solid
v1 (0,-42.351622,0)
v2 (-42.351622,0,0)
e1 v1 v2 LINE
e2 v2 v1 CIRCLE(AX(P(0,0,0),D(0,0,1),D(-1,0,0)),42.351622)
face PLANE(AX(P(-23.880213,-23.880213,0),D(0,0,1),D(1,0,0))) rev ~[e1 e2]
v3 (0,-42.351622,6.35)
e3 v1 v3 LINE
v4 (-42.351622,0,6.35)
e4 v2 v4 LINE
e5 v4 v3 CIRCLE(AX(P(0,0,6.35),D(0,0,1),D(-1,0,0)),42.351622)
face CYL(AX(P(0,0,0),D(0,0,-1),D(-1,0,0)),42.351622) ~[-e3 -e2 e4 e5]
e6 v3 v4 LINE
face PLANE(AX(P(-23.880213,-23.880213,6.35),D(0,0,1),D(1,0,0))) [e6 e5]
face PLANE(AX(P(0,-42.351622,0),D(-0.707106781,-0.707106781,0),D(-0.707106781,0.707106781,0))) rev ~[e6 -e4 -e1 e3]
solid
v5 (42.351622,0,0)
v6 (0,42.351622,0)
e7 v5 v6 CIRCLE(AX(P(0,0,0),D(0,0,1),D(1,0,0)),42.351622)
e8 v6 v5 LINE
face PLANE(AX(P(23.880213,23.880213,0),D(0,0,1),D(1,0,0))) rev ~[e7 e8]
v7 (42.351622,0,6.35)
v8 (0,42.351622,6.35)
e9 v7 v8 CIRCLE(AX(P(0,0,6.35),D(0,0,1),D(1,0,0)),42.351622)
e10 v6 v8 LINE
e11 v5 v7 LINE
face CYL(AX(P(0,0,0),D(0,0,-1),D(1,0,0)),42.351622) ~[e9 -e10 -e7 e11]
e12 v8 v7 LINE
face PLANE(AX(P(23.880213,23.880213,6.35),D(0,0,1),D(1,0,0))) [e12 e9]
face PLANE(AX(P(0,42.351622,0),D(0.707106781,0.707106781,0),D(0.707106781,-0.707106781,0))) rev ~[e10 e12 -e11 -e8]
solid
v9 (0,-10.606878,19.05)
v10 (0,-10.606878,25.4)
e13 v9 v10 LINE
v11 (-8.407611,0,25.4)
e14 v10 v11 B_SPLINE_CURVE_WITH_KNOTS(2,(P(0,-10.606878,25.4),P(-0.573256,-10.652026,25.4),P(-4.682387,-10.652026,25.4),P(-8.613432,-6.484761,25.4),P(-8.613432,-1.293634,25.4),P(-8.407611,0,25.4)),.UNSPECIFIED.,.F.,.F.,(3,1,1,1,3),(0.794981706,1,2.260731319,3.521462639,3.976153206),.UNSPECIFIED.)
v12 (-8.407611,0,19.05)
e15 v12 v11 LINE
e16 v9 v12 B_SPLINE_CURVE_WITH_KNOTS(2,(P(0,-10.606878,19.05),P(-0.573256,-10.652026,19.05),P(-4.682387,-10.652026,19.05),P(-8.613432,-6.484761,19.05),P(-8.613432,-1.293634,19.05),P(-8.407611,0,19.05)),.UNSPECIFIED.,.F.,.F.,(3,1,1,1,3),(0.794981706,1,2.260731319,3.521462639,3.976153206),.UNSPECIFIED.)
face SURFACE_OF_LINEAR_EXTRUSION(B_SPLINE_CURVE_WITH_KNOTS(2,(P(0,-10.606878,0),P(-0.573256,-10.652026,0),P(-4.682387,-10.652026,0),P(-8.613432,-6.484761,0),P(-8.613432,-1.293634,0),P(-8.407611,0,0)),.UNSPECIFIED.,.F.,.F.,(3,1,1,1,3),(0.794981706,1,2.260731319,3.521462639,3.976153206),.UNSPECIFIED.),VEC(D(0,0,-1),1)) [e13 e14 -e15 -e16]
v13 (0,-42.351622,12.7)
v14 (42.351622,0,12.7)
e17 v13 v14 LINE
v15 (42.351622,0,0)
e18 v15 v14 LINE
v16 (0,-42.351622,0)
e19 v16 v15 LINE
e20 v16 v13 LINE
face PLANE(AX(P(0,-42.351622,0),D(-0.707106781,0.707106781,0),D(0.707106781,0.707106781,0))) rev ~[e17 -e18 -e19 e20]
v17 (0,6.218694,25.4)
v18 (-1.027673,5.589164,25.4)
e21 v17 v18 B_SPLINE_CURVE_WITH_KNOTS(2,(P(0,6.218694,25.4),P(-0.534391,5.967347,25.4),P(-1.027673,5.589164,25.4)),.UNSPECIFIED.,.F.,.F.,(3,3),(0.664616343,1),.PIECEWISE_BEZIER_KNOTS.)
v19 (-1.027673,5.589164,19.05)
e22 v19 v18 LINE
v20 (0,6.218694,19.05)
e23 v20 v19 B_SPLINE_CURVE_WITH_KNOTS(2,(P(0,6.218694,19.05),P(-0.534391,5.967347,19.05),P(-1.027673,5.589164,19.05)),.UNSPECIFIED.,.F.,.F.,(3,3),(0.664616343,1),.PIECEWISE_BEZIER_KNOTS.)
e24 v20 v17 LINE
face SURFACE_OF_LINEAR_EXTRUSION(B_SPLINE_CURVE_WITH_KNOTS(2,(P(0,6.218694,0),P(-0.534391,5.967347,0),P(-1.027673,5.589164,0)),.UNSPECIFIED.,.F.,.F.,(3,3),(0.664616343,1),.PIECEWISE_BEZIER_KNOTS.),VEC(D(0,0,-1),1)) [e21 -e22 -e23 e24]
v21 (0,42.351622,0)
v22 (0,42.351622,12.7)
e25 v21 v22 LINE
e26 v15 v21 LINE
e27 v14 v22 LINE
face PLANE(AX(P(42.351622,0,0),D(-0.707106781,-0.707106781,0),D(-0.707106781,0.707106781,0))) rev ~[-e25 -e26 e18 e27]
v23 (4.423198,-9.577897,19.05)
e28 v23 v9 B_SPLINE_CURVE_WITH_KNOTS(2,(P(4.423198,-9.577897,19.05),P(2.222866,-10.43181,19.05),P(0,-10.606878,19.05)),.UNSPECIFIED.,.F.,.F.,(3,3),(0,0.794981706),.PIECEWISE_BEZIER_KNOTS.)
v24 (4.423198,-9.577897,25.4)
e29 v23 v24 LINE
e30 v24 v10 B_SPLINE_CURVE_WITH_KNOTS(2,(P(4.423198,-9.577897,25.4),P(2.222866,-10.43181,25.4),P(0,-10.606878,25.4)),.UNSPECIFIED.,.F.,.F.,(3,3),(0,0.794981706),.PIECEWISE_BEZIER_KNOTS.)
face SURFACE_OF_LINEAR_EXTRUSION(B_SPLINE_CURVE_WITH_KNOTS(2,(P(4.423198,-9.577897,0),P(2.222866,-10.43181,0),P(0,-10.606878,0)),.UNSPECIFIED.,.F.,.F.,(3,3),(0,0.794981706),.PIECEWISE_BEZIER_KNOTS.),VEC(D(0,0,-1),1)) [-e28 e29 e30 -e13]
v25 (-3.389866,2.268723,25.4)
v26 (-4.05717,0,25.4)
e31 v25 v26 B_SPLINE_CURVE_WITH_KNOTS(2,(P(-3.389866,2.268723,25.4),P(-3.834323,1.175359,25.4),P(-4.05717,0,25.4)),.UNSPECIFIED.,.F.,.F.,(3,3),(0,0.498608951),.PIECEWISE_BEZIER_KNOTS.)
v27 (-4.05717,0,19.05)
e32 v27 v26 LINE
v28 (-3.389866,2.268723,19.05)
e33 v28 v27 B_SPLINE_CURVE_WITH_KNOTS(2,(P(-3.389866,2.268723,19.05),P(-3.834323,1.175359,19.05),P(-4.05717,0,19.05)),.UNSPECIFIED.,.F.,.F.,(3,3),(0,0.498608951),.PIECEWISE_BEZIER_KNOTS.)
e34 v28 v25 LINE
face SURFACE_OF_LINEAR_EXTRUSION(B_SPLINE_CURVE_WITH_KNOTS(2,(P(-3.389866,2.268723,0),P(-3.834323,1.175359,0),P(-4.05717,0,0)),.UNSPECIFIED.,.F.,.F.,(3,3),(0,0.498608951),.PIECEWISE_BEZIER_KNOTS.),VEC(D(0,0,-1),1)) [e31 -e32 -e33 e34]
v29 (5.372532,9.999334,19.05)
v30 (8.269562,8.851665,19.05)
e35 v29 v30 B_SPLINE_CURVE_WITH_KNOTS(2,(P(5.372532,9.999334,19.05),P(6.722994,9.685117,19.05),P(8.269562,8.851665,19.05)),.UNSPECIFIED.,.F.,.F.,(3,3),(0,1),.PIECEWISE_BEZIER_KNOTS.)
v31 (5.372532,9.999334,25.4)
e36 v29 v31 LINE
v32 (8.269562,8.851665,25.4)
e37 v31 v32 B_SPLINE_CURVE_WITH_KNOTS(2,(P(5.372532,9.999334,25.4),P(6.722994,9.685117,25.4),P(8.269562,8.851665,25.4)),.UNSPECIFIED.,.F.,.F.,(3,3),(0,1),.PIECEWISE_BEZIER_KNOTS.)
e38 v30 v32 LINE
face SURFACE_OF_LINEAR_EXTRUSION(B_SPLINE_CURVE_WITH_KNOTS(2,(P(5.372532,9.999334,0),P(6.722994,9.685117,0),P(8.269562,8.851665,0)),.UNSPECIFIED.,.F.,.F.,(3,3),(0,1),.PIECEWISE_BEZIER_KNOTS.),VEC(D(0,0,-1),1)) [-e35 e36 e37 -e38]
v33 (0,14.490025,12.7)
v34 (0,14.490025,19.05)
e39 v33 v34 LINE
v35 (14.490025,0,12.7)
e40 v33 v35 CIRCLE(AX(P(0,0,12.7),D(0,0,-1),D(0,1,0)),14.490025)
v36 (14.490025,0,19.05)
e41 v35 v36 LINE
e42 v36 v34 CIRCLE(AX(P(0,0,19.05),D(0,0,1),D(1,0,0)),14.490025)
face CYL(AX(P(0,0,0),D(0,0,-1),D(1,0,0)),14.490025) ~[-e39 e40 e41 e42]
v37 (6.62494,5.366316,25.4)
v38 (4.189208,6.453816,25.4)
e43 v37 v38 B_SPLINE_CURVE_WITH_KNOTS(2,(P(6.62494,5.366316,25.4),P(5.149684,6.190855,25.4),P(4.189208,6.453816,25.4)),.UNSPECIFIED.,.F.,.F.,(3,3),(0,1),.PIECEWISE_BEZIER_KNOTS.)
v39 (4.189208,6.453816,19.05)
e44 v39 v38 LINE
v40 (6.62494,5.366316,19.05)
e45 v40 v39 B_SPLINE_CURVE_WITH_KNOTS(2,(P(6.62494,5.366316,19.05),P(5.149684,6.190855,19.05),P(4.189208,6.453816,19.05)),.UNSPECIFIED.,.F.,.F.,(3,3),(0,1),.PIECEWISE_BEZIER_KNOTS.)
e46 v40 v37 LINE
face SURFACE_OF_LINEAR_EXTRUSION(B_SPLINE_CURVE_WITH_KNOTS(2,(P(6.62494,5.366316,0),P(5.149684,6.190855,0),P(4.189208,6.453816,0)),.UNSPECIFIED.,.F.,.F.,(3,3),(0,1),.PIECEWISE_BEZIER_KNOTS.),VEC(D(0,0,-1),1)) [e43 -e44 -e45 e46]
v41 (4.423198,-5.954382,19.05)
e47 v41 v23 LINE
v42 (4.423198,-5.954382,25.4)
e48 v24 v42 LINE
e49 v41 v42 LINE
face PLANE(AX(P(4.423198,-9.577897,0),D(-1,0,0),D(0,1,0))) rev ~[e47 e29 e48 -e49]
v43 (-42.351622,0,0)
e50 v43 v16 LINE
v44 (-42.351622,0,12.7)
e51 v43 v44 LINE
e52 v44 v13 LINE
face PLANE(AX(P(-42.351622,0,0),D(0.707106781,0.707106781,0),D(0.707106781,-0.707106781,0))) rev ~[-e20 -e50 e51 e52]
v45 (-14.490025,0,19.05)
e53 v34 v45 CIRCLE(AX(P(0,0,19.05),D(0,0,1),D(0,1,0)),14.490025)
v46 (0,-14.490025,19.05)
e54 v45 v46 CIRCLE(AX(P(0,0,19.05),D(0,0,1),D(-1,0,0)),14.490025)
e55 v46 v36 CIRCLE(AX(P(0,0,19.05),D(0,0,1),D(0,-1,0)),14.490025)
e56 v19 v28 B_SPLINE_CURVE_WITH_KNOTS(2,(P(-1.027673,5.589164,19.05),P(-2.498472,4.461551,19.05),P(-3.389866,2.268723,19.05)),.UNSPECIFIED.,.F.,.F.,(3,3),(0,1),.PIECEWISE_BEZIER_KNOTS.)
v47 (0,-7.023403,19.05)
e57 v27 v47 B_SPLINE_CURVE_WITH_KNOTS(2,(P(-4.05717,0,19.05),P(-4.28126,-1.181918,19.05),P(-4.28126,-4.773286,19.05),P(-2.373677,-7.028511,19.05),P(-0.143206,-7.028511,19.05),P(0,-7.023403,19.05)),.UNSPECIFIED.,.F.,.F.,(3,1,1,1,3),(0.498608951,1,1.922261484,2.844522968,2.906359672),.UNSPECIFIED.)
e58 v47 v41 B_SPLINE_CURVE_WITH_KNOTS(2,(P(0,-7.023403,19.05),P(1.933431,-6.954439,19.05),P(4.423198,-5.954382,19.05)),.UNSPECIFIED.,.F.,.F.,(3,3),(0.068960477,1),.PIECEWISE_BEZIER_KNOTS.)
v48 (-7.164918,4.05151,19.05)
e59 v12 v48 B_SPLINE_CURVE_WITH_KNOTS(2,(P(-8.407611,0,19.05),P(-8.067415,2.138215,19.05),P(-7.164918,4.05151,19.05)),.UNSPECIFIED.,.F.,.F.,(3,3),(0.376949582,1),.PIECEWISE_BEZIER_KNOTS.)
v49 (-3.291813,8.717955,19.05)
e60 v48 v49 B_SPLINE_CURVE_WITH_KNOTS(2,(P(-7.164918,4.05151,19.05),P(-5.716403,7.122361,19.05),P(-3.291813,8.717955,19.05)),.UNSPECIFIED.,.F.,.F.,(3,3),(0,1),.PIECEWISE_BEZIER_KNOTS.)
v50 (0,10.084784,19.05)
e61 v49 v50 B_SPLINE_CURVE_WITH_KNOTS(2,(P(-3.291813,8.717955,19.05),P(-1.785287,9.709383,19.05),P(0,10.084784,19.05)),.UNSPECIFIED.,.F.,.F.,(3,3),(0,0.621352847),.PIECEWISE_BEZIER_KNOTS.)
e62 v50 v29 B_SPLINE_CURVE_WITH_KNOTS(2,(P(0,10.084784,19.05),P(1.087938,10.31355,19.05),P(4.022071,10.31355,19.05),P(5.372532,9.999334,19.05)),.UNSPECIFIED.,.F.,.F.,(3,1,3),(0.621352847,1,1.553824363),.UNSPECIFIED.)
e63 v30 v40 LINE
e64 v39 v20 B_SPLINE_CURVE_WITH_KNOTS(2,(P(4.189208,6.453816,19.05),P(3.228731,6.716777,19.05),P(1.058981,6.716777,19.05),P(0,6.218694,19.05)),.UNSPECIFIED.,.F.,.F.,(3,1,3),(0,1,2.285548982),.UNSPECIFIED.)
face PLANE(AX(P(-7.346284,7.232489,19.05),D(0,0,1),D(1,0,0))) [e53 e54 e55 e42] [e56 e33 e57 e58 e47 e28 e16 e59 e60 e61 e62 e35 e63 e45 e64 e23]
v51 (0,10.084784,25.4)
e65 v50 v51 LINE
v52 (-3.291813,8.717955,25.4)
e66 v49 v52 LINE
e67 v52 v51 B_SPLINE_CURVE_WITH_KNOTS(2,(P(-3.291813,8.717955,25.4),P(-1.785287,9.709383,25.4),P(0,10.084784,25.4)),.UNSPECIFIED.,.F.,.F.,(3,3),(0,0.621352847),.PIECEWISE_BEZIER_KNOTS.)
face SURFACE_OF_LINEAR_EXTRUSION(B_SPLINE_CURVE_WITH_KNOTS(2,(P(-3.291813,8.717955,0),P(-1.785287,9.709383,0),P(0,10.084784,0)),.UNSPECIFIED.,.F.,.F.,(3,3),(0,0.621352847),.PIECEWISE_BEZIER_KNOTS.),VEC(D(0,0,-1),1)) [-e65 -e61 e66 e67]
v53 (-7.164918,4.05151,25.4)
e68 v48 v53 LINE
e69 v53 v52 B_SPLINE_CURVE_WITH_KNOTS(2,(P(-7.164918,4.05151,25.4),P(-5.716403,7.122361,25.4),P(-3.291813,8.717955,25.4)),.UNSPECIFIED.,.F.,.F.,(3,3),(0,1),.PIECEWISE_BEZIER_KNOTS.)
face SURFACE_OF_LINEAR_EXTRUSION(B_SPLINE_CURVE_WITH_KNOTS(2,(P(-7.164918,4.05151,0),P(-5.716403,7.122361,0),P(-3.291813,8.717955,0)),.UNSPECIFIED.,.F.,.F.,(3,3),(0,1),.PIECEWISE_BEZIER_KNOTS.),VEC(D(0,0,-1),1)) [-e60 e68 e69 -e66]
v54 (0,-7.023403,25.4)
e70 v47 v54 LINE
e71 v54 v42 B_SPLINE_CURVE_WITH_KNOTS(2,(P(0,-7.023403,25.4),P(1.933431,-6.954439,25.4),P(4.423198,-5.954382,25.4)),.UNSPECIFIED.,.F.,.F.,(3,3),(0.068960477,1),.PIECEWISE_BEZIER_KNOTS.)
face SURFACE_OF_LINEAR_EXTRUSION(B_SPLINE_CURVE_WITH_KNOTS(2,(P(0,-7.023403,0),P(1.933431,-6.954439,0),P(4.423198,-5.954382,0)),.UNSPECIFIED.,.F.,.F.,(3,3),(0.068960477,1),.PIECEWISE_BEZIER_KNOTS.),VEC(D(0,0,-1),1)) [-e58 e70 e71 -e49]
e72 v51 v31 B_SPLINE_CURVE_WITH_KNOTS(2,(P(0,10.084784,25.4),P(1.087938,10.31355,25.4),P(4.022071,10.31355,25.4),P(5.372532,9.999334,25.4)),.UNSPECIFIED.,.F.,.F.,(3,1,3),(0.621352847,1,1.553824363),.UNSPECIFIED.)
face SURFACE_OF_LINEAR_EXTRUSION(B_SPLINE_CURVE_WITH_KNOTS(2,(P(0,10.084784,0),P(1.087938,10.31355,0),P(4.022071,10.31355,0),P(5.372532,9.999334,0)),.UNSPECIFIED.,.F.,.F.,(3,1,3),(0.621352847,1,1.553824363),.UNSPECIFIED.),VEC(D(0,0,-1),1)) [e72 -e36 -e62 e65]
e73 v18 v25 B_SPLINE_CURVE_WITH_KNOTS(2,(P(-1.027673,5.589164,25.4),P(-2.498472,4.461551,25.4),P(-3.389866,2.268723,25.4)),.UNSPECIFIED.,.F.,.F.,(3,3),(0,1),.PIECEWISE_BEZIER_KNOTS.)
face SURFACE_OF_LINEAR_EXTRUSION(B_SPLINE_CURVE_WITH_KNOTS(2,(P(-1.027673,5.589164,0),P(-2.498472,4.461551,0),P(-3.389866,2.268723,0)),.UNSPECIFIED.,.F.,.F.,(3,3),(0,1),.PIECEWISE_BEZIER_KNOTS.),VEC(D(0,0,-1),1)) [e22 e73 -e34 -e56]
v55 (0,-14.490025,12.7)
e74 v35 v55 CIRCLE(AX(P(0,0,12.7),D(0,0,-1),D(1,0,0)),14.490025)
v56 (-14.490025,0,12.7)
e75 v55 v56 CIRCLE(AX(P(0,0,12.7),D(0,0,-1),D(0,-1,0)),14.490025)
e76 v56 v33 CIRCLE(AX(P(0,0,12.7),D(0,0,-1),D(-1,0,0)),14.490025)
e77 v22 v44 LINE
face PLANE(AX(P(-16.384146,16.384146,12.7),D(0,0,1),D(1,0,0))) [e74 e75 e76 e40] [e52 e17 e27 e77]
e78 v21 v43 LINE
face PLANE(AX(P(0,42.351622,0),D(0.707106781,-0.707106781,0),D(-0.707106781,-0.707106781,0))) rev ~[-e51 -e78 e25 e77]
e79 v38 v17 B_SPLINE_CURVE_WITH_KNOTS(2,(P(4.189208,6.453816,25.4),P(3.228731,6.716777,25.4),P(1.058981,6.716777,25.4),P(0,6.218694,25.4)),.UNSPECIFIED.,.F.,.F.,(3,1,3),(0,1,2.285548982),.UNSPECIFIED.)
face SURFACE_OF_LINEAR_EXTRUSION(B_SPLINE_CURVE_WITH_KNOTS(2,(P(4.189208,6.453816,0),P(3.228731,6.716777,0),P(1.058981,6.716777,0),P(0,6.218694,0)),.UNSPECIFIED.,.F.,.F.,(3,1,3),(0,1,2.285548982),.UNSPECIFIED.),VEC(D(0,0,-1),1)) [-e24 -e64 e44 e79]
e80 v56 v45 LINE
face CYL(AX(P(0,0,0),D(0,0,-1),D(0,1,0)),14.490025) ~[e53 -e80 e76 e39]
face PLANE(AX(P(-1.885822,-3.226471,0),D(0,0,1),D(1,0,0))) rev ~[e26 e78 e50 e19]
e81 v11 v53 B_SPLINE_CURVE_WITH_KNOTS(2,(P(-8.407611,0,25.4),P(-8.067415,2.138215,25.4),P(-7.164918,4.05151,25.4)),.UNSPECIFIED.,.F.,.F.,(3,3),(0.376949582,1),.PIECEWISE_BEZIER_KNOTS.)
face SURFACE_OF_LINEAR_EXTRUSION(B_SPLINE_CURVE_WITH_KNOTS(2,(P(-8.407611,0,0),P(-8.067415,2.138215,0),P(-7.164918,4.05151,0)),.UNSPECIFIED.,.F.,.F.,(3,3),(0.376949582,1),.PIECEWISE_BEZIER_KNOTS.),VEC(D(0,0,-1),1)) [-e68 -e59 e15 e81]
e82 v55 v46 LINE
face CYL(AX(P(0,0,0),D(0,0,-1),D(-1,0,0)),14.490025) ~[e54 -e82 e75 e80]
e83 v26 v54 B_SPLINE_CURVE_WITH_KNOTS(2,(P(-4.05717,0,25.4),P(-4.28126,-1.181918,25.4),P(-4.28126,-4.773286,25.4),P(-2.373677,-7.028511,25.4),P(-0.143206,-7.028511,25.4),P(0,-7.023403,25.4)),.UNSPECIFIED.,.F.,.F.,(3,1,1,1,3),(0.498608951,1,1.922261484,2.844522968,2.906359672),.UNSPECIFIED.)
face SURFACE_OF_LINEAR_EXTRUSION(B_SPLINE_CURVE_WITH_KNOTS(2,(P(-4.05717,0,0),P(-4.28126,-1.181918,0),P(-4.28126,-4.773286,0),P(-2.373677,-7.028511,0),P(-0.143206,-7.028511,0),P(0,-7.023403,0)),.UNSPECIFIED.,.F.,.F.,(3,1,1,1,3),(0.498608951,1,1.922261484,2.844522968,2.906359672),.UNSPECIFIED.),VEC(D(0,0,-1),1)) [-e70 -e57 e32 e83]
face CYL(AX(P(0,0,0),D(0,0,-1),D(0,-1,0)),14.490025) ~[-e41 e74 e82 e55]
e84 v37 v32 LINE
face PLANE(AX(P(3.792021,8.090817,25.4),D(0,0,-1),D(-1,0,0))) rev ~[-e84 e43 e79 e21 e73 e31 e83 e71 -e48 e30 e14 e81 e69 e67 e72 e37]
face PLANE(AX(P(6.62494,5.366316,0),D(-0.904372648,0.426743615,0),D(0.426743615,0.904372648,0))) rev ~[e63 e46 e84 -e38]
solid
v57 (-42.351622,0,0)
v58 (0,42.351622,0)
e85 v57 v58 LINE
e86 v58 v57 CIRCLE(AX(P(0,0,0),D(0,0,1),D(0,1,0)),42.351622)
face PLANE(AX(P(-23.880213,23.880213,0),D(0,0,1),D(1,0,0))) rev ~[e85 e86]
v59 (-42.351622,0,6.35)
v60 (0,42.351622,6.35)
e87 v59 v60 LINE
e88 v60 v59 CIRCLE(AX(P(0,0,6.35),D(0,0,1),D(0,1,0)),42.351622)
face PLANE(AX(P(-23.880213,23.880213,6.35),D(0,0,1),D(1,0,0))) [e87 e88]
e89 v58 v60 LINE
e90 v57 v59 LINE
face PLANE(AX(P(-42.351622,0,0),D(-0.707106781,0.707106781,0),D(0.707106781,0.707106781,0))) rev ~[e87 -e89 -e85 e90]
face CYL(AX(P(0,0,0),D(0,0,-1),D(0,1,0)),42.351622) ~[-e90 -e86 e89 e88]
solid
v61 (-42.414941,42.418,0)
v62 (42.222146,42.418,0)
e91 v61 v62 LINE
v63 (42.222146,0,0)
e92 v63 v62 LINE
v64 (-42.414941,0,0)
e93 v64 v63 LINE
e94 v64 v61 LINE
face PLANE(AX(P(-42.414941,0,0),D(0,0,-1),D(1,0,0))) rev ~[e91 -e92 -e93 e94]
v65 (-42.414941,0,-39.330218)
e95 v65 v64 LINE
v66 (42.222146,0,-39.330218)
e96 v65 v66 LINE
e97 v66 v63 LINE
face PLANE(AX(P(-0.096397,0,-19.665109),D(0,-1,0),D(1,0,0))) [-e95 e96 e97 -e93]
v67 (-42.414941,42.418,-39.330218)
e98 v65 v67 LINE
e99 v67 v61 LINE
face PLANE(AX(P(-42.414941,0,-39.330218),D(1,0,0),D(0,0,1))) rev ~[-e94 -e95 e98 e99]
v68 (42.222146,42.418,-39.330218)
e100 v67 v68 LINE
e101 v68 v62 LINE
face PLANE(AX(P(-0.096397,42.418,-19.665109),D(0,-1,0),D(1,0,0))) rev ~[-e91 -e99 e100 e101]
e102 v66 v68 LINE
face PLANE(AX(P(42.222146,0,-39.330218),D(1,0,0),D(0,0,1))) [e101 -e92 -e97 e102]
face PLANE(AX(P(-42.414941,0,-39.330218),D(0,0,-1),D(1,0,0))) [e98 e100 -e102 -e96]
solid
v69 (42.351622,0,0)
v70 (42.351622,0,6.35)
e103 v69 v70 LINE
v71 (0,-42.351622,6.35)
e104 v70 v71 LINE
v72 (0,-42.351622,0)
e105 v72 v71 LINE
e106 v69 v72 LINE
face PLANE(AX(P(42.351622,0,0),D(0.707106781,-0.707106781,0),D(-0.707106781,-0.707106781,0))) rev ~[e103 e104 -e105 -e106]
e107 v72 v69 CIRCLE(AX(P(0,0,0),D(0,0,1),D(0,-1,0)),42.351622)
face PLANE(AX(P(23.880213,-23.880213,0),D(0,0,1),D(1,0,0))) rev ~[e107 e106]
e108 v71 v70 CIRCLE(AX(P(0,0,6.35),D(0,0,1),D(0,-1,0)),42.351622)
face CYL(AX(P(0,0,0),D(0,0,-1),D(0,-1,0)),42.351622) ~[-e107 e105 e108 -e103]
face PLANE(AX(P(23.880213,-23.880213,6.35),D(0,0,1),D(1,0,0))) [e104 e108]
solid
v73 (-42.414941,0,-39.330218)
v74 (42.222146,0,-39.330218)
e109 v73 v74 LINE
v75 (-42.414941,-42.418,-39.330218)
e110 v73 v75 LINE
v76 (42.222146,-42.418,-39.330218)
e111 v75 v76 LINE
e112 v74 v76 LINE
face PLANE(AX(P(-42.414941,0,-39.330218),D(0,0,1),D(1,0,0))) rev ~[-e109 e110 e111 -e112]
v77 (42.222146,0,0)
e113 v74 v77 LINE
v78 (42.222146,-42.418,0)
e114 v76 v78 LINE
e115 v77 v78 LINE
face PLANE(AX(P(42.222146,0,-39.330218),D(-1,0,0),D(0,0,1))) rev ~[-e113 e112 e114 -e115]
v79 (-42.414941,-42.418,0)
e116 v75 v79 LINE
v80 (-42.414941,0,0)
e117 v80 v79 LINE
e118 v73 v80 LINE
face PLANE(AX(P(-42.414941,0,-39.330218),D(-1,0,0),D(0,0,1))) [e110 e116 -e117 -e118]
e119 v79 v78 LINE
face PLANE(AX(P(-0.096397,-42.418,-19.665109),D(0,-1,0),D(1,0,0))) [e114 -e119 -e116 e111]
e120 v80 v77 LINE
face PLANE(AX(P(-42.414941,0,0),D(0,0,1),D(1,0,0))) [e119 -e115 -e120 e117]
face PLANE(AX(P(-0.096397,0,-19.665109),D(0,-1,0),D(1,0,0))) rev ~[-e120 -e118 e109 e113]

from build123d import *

# Parameters (mm, degrees)
F1_DEPTH = 6.35
F2_DEPTH = 12.7
F3_DEPTH = 19.05
F4_DEPTH = 25.4
F5_DEPTH = 19.05
F6_W     = 84.6370868385
F6_H     = 39.3302179873
F7_DEPTH = 42.418
F8_DEPTH = 42.418


with BuildPart() as f1:
    # F0 (on Top) → F1 (new body)
    with BuildSketch(Plane.XY):
        with BuildLine():
            Line((-42.3516215858, 0), (0, 42.3516215858))
            ThreePointArc((0, 42.3516215858), (-29.9471188176, 29.9471188176), (-42.3516215858, 0))
        make_face()
    extrude(amount=F1_DEPTH)


with BuildPart() as f1b:
    # F0 (on Top) → F1, piece 2 (new body)
    with BuildSketch(Plane.XY):
        with BuildLine():
            Line((0, 42.3516215858), (42.3516215858, 0))
            ThreePointArc((42.3516215858, 0), (29.9471188176, 29.9471188176), (0, 42.3516215858))
        make_face()
    extrude(amount=F1_DEPTH)


with BuildPart() as f1c:
    # F0 (on Top) → F1, piece 3 (new body)
    with BuildSketch(Plane.XY):
        with BuildLine():
            ThreePointArc((0, -42.3516215858), (29.9471188176, -29.9471188176), (42.3516215858, 0))
            Line((42.3516215858, 0), (0, -42.3516215858))
        make_face()
    extrude(amount=F1_DEPTH)


with BuildPart() as f1d:
    # F0 (on Top) → F1, piece 4 (new body)
    with BuildSketch(Plane.XY):
        with BuildLine():
            ThreePointArc((-42.3516215858, 0), (-29.9471188176, -29.9471188176), (0, -42.3516215858))
            Line((0, -42.3516215858), (-42.3516215858, 0))
        make_face()
    extrude(amount=F1_DEPTH)


with BuildPart() as f2:
    # F0 (on Top) → F2 (new body)
    with BuildSketch(Plane.XY):
        with BuildLine():
            Line((0, 14.4900253138), (0, 42.3516215858))
            Line((0, 42.3516215858), (-42.3516215858, 0))
            Line((-42.3516215858, 0), (-14.4900253138, 0))
            ThreePointArc((-14.4900253138, 0), (-10.2459951589, 10.2459951589), (0, 14.4900253138))
        make_face()
        with BuildLine():
            Line((14.4900253138, 0), (42.3516215858, 0))
            Line((42.3516215858, 0), (0, 42.3516215858))
            Line((0, 42.3516215858), (0, 14.4900253138))
            ThreePointArc((0, 14.4900253138), (10.2459951589, 10.2459951589), (14.4900253138, 0))
        make_face()
        with BuildLine():
            Line((0, -42.3516215858), (42.3516215858, 0))
            Line((42.3516215858, 0), (14.4900253138, 0))
            ThreePointArc((14.4900253138, 0), (10.2459951589, -10.2459951589), (0, -14.4900253138))
            Line((0, -14.4900253138), (0, -42.3516215858))
        make_face()
        with BuildLine():
            Line((-42.3516215858, 0), (0, -42.3516215858))
            Line((0, -42.3516215858), (0, -14.4900253138))
            ThreePointArc((0, -14.4900253138), (-10.2459951589, -10.2459951589), (-14.4900253138, 0))
            Line((-14.4900253138, 0), (-42.3516215858, 0))
        make_face()
    extrude(amount=F2_DEPTH)

    # F0 (on Top) → F3 (join)
    with BuildSketch(Plane.XY):
        with BuildLine():
            Line((0, 10.0847837123), (0, 14.4900253138))
            ThreePointArc((0, 14.4900253138), (-10.2459951589, 10.2459951589), (-14.4900253138, 0))
            Line((-14.4900253138, 0), (-8.4076113491, 0))
            add(Edge.make_bspline(
                [(-8.4076113491, 0), (-8.0674152675, 2.1382154446), (-7.1649176971, 4.0515102938)],
                knots=[0.3769495817, 0.3769495817, 0.3769495817, 1, 1, 1], degree=2))
            add(Edge.make_bspline(
                [(-7.1649176971, 4.0515102938), (-5.7164031887, 7.1223610516), (-3.29181275, 8.7179554947)],
                knots=[0, 0, 0, 1, 1, 1], degree=2))
            add(Edge.make_bspline(
                [(-3.29181275, 8.7179554947), (-1.785286578, 9.7093826447), (0, 10.0847837123)],
                knots=[0, 0, 0, 0.6213528471, 0.6213528471, 0.6213528471], degree=2))
        make_face()
        with BuildLine():
            Line((0, 0), (14.4900253138, 0))
            ThreePointArc((14.4900253138, 0), (10.2459951589, 10.2459951589), (0, 14.4900253138))
            Line((0, 14.4900253138), (0, 10.0847837123))
            add(Edge.make_bspline(
                [(0, 10.0847837123), (1.0879384928, 10.3135499378), (2.2793968976, 10.3135499378)],
                knots=[0.6213528471, 0.6213528471, 0.6213528471, 1, 1, 1], degree=2))
            add(Edge.make_bspline(
                [(2.2793968976, 10.3135499378), (4.0220712755, 10.3135499378), (5.3725324941, 9.9993337136)],
                knots=[0, 0, 0, 1, 1, 1], degree=2))
            add(Edge.make_bspline(
                [(5.3725324941, 9.9993337136), (6.7229937127, 9.6851174895), (8.2695615109, 8.8516645262)],
                knots=[0, 0, 0, 1, 1, 1], degree=2))
            Line((8.2695615109, 8.8516645262), (6.6249404229, 5.3663157706))
            add(Edge.make_bspline(
                [(6.6249404229, 5.3663157706), (5.1496841081, 6.1908547985), (4.1892075649, 6.4538158939)],
                knots=[0, 0, 0, 1, 1, 1], degree=2))
            add(Edge.make_bspline(
                [(4.1892075649, 6.4538158939), (3.2287310216, 6.7167769892), (2.2793968976, 6.7167769892)],
                knots=[0, 0, 0, 1, 1, 1], degree=2))
            add(Edge.make_bspline(
                [(2.2793968976, 6.7167769892), (1.0589813809, 6.7167769892), (0, 6.2186936188)],
                knots=[0, 0, 0, 0.6646163427, 0.6646163427, 0.6646163427], degree=2))
            Line((0, 6.2186936188), (0, 0))
        make_face()
        with BuildLine():
            ThreePointArc((0, -14.4900253138), (10.2459951589, -10.2459951589), (14.4900253138, 0))
            Line((14.4900253138, 0), (0, 0))
            Line((0, 0), (0, -7.0234033811))
            add(Edge.make_bspline(
                [(0, -7.0234033811), (1.9334305116, -6.95443899), (4.4231983701, -5.9543822335)],
                knots=[0.0689604772, 0.0689604772, 0.0689604772, 1, 1, 1], degree=2))
            Line((4.4231983701, -5.9543822335), (4.4231983701, -9.5778969884))
            add(Edge.make_bspline(
                [(4.4231983701, -9.5778969884), (2.2228663266, -10.4318100681), (0, -10.606877871)],
                knots=[0, 0, 0, 0.7949817059, 0.7949817059, 0.7949817059], degree=2))
            Line((0, -10.606877871), (0, -14.4900253138))
        make_face()
        with BuildLine():
            ThreePointArc((-14.4900253138, 0), (-10.2459951589, -10.2459951589), (0, -14.4900253138))
            Line((0, -14.4900253138), (0, -10.606877871))
            add(Edge.make_bspline(
                [(0, -10.606877871), (-0.5732562888, -10.6520262084), (-1.1480112776, -10.6520262084)],
                knots=[0.7949817059, 0.7949817059, 0.7949817059, 1, 1, 1], degree=2))
            add(Edge.make_bspline(
                [(-1.1480112776, -10.6520262084), (-4.6823866781, -10.6520262084), (-6.6479094418, -8.5683938002)],
                knots=[0, 0, 0, 1, 1, 1], degree=2))
            add(Edge.make_bspline(
                [(-6.6479094418, -8.5683938002), (-8.6134322055, -6.484761392), (-8.6134322055, -2.6695970252)],
                knots=[0, 0, 0, 1, 1, 1], degree=2))
            add(Edge.make_bspline(
                [(-8.6134322055, -2.6695970252), (-8.6134322055, -1.2936343413), (-8.4076113491, 0)],
                knots=[0, 0, 0, 0.3769495817, 0.3769495817, 0.3769495817], degree=2))
            Line((-8.4076113491, 0), (-14.4900253138, 0))
        make_face()
    extrude(amount=F3_DEPTH)

    # F0 (on Top) → F4 (join)
    with BuildSketch(Plane.XY):
        with BuildLine():
            add(Edge.make_bspline(
                [(0, 10.0847837123), (1.0879384928, 10.3135499378), (2.2793968976, 10.3135499378)],
                knots=[0.6213528471, 0.6213528471, 0.6213528471, 1, 1, 1], degree=2))
            Line((0, 10.0847837123), (0, 6.2186936188))
            add(Edge.make_bspline(
                [(2.2793968976, 6.7167769892), (1.0589813809, 6.7167769892), (0, 6.2186936188)],
                knots=[0, 0, 0, 0.6646163427, 0.6646163427, 0.6646163427], degree=2))
            add(Edge.make_bspline(
                [(4.1892075649, 6.4538158939), (3.2287310216, 6.7167769892), (2.2793968976, 6.7167769892)],
                knots=[0, 0, 0, 1, 1, 1], degree=2))
            add(Edge.make_bspline(
                [(6.6249404229, 5.3663157706), (5.1496841081, 6.1908547985), (4.1892075649, 6.4538158939)],
                knots=[0, 0, 0, 1, 1, 1], degree=2))
            Line((6.6249404229, 5.3663157706), (8.2695615109, 8.8516645262))
            add(Edge.make_bspline(
                [(5.3725324941, 9.9993337136), (6.7229937127, 9.6851174895), (8.2695615109, 8.8516645262)],
                knots=[0, 0, 0, 1, 1, 1], degree=2))
            add(Edge.make_bspline(
                [(2.2793968976, 10.3135499378), (4.0220712755, 10.3135499378), (5.3725324941, 9.9993337136)],
                knots=[0, 0, 0, 1, 1, 1], degree=2))
        make_face()
        with BuildLine():
            add(Edge.make_bspline(
                [(0, -10.606877871), (-0.5732562888, -10.6520262084), (-1.1480112776, -10.6520262084)],
                knots=[0.7949817059, 0.7949817059, 0.7949817059, 1, 1, 1], degree=2))
            Line((0, -10.606877871), (0, -7.0234033811))
            add(Edge.make_bspline(
                [(-0.2833595403, -7.0285114536), (-0.1432058333, -7.0285114536), (0, -7.0234033811)],
                knots=[0, 0, 0, 0.0689604772, 0.0689604772, 0.0689604772], degree=2))
            add(Edge.make_bspline(
                [(-3.3274684918, -5.9008986209), (-2.3736774001, -7.0285114536), (-0.2833595403, -7.0285114536)],
                knots=[0, 0, 0, 1, 1, 1], degree=2))
            add(Edge.make_bspline(
                [(-4.2812595835, -2.4467486393), (-4.2812595835, -4.7732857882), (-3.3274684918, -5.9008986209)],
                knots=[0, 0, 0, 1, 1, 1], degree=2))
            add(Edge.make_bspline(
                [(-4.0571695007, 0), (-4.2812595835, -1.1819176543), (-4.2812595835, -2.4467486393)],
                knots=[0.4986089511, 0.4986089511, 0.4986089511, 1, 1, 1], degree=2))
            Line((-4.0571695007, 0), (-8.4076113491, 0))
            add(Edge.make_bspline(
                [(-8.6134322055, -2.6695970252), (-8.6134322055, -1.2936343413), (-8.4076113491, 0)],
                knots=[0, 0, 0, 0.3769495817, 0.3769495817, 0.3769495817], degree=2))
            add(Edge.make_bspline(
                [(-6.6479094418, -8.5683938002), (-8.6134322055, -6.484761392), (-8.6134322055, -2.6695970252)],
                knots=[0, 0, 0, 1, 1, 1], degree=2))
            add(Edge.make_bspline(
                [(-1.1480112776, -10.6520262084), (-4.6823866781, -10.6520262084), (-6.6479094418, -8.5683938002)],
                knots=[0, 0, 0, 1, 1, 1], degree=2))
        make_face()
        with BuildLine():
            Line((0, 6.2186936188), (0, 10.0847837123))
            add(Edge.make_bspline(
                [(-3.29181275, 8.7179554947), (-1.785286578, 9.7093826447), (0, 10.0847837123)],
                knots=[0, 0, 0, 0.6213528471, 0.6213528471, 0.6213528471], degree=2))
            add(Edge.make_bspline(
                [(-7.1649176971, 4.0515102938), (-5.7164031887, 7.1223610516), (-3.29181275, 8.7179554947)],
                knots=[0, 0, 0, 1, 1, 1], degree=2))
            add(Edge.make_bspline(
                [(-8.4076113491, 0), (-8.0674152675, 2.1382154446), (-7.1649176971, 4.0515102938)],
                knots=[0.3769495817, 0.3769495817, 0.3769495817, 1, 1, 1], degree=2))
            Line((-8.4076113491, 0), (-4.0571695007, 0))
            add(Edge.make_bspline(
                [(-3.3898660398, 2.2687232065), (-3.8343228397, 1.1753594789), (-4.0571695007, 0)],
                knots=[0, 0, 0, 0.4986089511, 0.4986089511, 0.4986089511], degree=2))
            add(Edge.make_bspline(
                [(-1.0276731492, 5.5891641565), (-2.4984724962, 4.4615513238), (-3.3898660398, 2.2687232065)],
                knots=[0, 0, 0, 1, 1, 1], degree=2))
            add(Edge.make_bspline(
                [(0, 6.2186936188), (-0.5343910851, 5.9673470724), (-1.0276731492, 5.5891641565)],
                knots=[0.6646163427, 0.6646163427, 0.6646163427, 1, 1, 1], degree=2))
        make_face()
        with BuildLine():
            Line((0, -7.0234033811), (0, -10.606877871))
            add(Edge.make_bspline(
                [(4.4231983701, -9.5778969884), (2.2228663266, -10.4318100681), (0, -10.606877871)],
                knots=[0, 0, 0, 0.7949817059, 0.7949817059, 0.7949817059], degree=2))
            Line((4.4231983701, -9.5778969884), (4.4231983701, -5.9543822335))
            add(Edge.make_bspline(
                [(0, -7.0234033811), (1.9334305116, -6.95443899), (4.4231983701, -5.9543822335)],
                knots=[0.0689604772, 0.0689604772, 0.0689604772, 1, 1, 1], degree=2))
        make_face()
    extrude(amount=F4_DEPTH)

    # F0 (on Top) → F5 (join)
    with BuildSketch(Plane.XY):
        with BuildLine():
            Line((0, -7.0234033811), (0, 0))
            Line((0, 0), (-4.0571695007, 0))
            add(Edge.make_bspline(
                [(-4.0571695007, 0), (-4.2812595835, -1.1819176543), (-4.2812595835, -2.4467486393)],
                knots=[0.4986089511, 0.4986089511, 0.4986089511, 1, 1, 1], degree=2))
            add(Edge.make_bspline(
                [(-4.2812595835, -2.4467486393), (-4.2812595835, -4.7732857882), (-3.3274684918, -5.9008986209)],
                knots=[0, 0, 0, 1, 1, 1], degree=2))
            add(Edge.make_bspline(
                [(-3.3274684918, -5.9008986209), (-2.3736774001, -7.0285114536), (-0.2833595403, -7.0285114536)],
                knots=[0, 0, 0, 1, 1, 1], degree=2))
            add(Edge.make_bspline(
                [(-0.2833595403, -7.0285114536), (-0.1432058333, -7.0285114536), (0, -7.0234033811)],
                knots=[0, 0, 0, 0.0689604772, 0.0689604772, 0.0689604772], degree=2))
        make_face()
        with BuildLine():
            Line((-4.0571695007, 0), (0, 0))
            Line((0, 0), (0, 6.2186936188))
            add(Edge.make_bspline(
                [(0, 6.2186936188), (-0.5343910851, 5.9673470724), (-1.0276731492, 5.5891641565)],
                knots=[0.6646163427, 0.6646163427, 0.6646163427, 1, 1, 1], degree=2))
            add(Edge.make_bspline(
                [(-1.0276731492, 5.5891641565), (-2.4984724962, 4.4615513238), (-3.3898660398, 2.2687232065)],
                knots=[0, 0, 0, 1, 1, 1], degree=2))
            add(Edge.make_bspline(
                [(-3.3898660398, 2.2687232065), (-3.8343228397, 1.1753594789), (-4.0571695007, 0)],
                knots=[0, 0, 0, 0.4986089511, 0.4986089511, 0.4986089511], degree=2))
        make_face()
    extrude(amount=F5_DEPTH)


with BuildPart() as f7:
    # F6 (on Front) → F7 (new body)
    with BuildSketch(Plane.XZ):
        with Locations((-0.0963974744, -19.6651089936)):
            Rectangle(F6_W, F6_H)
    extrude(amount=-F7_DEPTH)


with BuildPart() as f8:
    # F8 (new): a face of the model
    f8_faces = [f7.part.faces().sort_by_distance(p)[0] for p in [
        (-0.0963974744, 0, -19.6651089936),
    ]]
    extrude(f8_faces, amount=F8_DEPTH)


solid = Compound([f1.part, f1b.part, f1c.part, f1d.part, f2.part, f7.part, f8.part])
